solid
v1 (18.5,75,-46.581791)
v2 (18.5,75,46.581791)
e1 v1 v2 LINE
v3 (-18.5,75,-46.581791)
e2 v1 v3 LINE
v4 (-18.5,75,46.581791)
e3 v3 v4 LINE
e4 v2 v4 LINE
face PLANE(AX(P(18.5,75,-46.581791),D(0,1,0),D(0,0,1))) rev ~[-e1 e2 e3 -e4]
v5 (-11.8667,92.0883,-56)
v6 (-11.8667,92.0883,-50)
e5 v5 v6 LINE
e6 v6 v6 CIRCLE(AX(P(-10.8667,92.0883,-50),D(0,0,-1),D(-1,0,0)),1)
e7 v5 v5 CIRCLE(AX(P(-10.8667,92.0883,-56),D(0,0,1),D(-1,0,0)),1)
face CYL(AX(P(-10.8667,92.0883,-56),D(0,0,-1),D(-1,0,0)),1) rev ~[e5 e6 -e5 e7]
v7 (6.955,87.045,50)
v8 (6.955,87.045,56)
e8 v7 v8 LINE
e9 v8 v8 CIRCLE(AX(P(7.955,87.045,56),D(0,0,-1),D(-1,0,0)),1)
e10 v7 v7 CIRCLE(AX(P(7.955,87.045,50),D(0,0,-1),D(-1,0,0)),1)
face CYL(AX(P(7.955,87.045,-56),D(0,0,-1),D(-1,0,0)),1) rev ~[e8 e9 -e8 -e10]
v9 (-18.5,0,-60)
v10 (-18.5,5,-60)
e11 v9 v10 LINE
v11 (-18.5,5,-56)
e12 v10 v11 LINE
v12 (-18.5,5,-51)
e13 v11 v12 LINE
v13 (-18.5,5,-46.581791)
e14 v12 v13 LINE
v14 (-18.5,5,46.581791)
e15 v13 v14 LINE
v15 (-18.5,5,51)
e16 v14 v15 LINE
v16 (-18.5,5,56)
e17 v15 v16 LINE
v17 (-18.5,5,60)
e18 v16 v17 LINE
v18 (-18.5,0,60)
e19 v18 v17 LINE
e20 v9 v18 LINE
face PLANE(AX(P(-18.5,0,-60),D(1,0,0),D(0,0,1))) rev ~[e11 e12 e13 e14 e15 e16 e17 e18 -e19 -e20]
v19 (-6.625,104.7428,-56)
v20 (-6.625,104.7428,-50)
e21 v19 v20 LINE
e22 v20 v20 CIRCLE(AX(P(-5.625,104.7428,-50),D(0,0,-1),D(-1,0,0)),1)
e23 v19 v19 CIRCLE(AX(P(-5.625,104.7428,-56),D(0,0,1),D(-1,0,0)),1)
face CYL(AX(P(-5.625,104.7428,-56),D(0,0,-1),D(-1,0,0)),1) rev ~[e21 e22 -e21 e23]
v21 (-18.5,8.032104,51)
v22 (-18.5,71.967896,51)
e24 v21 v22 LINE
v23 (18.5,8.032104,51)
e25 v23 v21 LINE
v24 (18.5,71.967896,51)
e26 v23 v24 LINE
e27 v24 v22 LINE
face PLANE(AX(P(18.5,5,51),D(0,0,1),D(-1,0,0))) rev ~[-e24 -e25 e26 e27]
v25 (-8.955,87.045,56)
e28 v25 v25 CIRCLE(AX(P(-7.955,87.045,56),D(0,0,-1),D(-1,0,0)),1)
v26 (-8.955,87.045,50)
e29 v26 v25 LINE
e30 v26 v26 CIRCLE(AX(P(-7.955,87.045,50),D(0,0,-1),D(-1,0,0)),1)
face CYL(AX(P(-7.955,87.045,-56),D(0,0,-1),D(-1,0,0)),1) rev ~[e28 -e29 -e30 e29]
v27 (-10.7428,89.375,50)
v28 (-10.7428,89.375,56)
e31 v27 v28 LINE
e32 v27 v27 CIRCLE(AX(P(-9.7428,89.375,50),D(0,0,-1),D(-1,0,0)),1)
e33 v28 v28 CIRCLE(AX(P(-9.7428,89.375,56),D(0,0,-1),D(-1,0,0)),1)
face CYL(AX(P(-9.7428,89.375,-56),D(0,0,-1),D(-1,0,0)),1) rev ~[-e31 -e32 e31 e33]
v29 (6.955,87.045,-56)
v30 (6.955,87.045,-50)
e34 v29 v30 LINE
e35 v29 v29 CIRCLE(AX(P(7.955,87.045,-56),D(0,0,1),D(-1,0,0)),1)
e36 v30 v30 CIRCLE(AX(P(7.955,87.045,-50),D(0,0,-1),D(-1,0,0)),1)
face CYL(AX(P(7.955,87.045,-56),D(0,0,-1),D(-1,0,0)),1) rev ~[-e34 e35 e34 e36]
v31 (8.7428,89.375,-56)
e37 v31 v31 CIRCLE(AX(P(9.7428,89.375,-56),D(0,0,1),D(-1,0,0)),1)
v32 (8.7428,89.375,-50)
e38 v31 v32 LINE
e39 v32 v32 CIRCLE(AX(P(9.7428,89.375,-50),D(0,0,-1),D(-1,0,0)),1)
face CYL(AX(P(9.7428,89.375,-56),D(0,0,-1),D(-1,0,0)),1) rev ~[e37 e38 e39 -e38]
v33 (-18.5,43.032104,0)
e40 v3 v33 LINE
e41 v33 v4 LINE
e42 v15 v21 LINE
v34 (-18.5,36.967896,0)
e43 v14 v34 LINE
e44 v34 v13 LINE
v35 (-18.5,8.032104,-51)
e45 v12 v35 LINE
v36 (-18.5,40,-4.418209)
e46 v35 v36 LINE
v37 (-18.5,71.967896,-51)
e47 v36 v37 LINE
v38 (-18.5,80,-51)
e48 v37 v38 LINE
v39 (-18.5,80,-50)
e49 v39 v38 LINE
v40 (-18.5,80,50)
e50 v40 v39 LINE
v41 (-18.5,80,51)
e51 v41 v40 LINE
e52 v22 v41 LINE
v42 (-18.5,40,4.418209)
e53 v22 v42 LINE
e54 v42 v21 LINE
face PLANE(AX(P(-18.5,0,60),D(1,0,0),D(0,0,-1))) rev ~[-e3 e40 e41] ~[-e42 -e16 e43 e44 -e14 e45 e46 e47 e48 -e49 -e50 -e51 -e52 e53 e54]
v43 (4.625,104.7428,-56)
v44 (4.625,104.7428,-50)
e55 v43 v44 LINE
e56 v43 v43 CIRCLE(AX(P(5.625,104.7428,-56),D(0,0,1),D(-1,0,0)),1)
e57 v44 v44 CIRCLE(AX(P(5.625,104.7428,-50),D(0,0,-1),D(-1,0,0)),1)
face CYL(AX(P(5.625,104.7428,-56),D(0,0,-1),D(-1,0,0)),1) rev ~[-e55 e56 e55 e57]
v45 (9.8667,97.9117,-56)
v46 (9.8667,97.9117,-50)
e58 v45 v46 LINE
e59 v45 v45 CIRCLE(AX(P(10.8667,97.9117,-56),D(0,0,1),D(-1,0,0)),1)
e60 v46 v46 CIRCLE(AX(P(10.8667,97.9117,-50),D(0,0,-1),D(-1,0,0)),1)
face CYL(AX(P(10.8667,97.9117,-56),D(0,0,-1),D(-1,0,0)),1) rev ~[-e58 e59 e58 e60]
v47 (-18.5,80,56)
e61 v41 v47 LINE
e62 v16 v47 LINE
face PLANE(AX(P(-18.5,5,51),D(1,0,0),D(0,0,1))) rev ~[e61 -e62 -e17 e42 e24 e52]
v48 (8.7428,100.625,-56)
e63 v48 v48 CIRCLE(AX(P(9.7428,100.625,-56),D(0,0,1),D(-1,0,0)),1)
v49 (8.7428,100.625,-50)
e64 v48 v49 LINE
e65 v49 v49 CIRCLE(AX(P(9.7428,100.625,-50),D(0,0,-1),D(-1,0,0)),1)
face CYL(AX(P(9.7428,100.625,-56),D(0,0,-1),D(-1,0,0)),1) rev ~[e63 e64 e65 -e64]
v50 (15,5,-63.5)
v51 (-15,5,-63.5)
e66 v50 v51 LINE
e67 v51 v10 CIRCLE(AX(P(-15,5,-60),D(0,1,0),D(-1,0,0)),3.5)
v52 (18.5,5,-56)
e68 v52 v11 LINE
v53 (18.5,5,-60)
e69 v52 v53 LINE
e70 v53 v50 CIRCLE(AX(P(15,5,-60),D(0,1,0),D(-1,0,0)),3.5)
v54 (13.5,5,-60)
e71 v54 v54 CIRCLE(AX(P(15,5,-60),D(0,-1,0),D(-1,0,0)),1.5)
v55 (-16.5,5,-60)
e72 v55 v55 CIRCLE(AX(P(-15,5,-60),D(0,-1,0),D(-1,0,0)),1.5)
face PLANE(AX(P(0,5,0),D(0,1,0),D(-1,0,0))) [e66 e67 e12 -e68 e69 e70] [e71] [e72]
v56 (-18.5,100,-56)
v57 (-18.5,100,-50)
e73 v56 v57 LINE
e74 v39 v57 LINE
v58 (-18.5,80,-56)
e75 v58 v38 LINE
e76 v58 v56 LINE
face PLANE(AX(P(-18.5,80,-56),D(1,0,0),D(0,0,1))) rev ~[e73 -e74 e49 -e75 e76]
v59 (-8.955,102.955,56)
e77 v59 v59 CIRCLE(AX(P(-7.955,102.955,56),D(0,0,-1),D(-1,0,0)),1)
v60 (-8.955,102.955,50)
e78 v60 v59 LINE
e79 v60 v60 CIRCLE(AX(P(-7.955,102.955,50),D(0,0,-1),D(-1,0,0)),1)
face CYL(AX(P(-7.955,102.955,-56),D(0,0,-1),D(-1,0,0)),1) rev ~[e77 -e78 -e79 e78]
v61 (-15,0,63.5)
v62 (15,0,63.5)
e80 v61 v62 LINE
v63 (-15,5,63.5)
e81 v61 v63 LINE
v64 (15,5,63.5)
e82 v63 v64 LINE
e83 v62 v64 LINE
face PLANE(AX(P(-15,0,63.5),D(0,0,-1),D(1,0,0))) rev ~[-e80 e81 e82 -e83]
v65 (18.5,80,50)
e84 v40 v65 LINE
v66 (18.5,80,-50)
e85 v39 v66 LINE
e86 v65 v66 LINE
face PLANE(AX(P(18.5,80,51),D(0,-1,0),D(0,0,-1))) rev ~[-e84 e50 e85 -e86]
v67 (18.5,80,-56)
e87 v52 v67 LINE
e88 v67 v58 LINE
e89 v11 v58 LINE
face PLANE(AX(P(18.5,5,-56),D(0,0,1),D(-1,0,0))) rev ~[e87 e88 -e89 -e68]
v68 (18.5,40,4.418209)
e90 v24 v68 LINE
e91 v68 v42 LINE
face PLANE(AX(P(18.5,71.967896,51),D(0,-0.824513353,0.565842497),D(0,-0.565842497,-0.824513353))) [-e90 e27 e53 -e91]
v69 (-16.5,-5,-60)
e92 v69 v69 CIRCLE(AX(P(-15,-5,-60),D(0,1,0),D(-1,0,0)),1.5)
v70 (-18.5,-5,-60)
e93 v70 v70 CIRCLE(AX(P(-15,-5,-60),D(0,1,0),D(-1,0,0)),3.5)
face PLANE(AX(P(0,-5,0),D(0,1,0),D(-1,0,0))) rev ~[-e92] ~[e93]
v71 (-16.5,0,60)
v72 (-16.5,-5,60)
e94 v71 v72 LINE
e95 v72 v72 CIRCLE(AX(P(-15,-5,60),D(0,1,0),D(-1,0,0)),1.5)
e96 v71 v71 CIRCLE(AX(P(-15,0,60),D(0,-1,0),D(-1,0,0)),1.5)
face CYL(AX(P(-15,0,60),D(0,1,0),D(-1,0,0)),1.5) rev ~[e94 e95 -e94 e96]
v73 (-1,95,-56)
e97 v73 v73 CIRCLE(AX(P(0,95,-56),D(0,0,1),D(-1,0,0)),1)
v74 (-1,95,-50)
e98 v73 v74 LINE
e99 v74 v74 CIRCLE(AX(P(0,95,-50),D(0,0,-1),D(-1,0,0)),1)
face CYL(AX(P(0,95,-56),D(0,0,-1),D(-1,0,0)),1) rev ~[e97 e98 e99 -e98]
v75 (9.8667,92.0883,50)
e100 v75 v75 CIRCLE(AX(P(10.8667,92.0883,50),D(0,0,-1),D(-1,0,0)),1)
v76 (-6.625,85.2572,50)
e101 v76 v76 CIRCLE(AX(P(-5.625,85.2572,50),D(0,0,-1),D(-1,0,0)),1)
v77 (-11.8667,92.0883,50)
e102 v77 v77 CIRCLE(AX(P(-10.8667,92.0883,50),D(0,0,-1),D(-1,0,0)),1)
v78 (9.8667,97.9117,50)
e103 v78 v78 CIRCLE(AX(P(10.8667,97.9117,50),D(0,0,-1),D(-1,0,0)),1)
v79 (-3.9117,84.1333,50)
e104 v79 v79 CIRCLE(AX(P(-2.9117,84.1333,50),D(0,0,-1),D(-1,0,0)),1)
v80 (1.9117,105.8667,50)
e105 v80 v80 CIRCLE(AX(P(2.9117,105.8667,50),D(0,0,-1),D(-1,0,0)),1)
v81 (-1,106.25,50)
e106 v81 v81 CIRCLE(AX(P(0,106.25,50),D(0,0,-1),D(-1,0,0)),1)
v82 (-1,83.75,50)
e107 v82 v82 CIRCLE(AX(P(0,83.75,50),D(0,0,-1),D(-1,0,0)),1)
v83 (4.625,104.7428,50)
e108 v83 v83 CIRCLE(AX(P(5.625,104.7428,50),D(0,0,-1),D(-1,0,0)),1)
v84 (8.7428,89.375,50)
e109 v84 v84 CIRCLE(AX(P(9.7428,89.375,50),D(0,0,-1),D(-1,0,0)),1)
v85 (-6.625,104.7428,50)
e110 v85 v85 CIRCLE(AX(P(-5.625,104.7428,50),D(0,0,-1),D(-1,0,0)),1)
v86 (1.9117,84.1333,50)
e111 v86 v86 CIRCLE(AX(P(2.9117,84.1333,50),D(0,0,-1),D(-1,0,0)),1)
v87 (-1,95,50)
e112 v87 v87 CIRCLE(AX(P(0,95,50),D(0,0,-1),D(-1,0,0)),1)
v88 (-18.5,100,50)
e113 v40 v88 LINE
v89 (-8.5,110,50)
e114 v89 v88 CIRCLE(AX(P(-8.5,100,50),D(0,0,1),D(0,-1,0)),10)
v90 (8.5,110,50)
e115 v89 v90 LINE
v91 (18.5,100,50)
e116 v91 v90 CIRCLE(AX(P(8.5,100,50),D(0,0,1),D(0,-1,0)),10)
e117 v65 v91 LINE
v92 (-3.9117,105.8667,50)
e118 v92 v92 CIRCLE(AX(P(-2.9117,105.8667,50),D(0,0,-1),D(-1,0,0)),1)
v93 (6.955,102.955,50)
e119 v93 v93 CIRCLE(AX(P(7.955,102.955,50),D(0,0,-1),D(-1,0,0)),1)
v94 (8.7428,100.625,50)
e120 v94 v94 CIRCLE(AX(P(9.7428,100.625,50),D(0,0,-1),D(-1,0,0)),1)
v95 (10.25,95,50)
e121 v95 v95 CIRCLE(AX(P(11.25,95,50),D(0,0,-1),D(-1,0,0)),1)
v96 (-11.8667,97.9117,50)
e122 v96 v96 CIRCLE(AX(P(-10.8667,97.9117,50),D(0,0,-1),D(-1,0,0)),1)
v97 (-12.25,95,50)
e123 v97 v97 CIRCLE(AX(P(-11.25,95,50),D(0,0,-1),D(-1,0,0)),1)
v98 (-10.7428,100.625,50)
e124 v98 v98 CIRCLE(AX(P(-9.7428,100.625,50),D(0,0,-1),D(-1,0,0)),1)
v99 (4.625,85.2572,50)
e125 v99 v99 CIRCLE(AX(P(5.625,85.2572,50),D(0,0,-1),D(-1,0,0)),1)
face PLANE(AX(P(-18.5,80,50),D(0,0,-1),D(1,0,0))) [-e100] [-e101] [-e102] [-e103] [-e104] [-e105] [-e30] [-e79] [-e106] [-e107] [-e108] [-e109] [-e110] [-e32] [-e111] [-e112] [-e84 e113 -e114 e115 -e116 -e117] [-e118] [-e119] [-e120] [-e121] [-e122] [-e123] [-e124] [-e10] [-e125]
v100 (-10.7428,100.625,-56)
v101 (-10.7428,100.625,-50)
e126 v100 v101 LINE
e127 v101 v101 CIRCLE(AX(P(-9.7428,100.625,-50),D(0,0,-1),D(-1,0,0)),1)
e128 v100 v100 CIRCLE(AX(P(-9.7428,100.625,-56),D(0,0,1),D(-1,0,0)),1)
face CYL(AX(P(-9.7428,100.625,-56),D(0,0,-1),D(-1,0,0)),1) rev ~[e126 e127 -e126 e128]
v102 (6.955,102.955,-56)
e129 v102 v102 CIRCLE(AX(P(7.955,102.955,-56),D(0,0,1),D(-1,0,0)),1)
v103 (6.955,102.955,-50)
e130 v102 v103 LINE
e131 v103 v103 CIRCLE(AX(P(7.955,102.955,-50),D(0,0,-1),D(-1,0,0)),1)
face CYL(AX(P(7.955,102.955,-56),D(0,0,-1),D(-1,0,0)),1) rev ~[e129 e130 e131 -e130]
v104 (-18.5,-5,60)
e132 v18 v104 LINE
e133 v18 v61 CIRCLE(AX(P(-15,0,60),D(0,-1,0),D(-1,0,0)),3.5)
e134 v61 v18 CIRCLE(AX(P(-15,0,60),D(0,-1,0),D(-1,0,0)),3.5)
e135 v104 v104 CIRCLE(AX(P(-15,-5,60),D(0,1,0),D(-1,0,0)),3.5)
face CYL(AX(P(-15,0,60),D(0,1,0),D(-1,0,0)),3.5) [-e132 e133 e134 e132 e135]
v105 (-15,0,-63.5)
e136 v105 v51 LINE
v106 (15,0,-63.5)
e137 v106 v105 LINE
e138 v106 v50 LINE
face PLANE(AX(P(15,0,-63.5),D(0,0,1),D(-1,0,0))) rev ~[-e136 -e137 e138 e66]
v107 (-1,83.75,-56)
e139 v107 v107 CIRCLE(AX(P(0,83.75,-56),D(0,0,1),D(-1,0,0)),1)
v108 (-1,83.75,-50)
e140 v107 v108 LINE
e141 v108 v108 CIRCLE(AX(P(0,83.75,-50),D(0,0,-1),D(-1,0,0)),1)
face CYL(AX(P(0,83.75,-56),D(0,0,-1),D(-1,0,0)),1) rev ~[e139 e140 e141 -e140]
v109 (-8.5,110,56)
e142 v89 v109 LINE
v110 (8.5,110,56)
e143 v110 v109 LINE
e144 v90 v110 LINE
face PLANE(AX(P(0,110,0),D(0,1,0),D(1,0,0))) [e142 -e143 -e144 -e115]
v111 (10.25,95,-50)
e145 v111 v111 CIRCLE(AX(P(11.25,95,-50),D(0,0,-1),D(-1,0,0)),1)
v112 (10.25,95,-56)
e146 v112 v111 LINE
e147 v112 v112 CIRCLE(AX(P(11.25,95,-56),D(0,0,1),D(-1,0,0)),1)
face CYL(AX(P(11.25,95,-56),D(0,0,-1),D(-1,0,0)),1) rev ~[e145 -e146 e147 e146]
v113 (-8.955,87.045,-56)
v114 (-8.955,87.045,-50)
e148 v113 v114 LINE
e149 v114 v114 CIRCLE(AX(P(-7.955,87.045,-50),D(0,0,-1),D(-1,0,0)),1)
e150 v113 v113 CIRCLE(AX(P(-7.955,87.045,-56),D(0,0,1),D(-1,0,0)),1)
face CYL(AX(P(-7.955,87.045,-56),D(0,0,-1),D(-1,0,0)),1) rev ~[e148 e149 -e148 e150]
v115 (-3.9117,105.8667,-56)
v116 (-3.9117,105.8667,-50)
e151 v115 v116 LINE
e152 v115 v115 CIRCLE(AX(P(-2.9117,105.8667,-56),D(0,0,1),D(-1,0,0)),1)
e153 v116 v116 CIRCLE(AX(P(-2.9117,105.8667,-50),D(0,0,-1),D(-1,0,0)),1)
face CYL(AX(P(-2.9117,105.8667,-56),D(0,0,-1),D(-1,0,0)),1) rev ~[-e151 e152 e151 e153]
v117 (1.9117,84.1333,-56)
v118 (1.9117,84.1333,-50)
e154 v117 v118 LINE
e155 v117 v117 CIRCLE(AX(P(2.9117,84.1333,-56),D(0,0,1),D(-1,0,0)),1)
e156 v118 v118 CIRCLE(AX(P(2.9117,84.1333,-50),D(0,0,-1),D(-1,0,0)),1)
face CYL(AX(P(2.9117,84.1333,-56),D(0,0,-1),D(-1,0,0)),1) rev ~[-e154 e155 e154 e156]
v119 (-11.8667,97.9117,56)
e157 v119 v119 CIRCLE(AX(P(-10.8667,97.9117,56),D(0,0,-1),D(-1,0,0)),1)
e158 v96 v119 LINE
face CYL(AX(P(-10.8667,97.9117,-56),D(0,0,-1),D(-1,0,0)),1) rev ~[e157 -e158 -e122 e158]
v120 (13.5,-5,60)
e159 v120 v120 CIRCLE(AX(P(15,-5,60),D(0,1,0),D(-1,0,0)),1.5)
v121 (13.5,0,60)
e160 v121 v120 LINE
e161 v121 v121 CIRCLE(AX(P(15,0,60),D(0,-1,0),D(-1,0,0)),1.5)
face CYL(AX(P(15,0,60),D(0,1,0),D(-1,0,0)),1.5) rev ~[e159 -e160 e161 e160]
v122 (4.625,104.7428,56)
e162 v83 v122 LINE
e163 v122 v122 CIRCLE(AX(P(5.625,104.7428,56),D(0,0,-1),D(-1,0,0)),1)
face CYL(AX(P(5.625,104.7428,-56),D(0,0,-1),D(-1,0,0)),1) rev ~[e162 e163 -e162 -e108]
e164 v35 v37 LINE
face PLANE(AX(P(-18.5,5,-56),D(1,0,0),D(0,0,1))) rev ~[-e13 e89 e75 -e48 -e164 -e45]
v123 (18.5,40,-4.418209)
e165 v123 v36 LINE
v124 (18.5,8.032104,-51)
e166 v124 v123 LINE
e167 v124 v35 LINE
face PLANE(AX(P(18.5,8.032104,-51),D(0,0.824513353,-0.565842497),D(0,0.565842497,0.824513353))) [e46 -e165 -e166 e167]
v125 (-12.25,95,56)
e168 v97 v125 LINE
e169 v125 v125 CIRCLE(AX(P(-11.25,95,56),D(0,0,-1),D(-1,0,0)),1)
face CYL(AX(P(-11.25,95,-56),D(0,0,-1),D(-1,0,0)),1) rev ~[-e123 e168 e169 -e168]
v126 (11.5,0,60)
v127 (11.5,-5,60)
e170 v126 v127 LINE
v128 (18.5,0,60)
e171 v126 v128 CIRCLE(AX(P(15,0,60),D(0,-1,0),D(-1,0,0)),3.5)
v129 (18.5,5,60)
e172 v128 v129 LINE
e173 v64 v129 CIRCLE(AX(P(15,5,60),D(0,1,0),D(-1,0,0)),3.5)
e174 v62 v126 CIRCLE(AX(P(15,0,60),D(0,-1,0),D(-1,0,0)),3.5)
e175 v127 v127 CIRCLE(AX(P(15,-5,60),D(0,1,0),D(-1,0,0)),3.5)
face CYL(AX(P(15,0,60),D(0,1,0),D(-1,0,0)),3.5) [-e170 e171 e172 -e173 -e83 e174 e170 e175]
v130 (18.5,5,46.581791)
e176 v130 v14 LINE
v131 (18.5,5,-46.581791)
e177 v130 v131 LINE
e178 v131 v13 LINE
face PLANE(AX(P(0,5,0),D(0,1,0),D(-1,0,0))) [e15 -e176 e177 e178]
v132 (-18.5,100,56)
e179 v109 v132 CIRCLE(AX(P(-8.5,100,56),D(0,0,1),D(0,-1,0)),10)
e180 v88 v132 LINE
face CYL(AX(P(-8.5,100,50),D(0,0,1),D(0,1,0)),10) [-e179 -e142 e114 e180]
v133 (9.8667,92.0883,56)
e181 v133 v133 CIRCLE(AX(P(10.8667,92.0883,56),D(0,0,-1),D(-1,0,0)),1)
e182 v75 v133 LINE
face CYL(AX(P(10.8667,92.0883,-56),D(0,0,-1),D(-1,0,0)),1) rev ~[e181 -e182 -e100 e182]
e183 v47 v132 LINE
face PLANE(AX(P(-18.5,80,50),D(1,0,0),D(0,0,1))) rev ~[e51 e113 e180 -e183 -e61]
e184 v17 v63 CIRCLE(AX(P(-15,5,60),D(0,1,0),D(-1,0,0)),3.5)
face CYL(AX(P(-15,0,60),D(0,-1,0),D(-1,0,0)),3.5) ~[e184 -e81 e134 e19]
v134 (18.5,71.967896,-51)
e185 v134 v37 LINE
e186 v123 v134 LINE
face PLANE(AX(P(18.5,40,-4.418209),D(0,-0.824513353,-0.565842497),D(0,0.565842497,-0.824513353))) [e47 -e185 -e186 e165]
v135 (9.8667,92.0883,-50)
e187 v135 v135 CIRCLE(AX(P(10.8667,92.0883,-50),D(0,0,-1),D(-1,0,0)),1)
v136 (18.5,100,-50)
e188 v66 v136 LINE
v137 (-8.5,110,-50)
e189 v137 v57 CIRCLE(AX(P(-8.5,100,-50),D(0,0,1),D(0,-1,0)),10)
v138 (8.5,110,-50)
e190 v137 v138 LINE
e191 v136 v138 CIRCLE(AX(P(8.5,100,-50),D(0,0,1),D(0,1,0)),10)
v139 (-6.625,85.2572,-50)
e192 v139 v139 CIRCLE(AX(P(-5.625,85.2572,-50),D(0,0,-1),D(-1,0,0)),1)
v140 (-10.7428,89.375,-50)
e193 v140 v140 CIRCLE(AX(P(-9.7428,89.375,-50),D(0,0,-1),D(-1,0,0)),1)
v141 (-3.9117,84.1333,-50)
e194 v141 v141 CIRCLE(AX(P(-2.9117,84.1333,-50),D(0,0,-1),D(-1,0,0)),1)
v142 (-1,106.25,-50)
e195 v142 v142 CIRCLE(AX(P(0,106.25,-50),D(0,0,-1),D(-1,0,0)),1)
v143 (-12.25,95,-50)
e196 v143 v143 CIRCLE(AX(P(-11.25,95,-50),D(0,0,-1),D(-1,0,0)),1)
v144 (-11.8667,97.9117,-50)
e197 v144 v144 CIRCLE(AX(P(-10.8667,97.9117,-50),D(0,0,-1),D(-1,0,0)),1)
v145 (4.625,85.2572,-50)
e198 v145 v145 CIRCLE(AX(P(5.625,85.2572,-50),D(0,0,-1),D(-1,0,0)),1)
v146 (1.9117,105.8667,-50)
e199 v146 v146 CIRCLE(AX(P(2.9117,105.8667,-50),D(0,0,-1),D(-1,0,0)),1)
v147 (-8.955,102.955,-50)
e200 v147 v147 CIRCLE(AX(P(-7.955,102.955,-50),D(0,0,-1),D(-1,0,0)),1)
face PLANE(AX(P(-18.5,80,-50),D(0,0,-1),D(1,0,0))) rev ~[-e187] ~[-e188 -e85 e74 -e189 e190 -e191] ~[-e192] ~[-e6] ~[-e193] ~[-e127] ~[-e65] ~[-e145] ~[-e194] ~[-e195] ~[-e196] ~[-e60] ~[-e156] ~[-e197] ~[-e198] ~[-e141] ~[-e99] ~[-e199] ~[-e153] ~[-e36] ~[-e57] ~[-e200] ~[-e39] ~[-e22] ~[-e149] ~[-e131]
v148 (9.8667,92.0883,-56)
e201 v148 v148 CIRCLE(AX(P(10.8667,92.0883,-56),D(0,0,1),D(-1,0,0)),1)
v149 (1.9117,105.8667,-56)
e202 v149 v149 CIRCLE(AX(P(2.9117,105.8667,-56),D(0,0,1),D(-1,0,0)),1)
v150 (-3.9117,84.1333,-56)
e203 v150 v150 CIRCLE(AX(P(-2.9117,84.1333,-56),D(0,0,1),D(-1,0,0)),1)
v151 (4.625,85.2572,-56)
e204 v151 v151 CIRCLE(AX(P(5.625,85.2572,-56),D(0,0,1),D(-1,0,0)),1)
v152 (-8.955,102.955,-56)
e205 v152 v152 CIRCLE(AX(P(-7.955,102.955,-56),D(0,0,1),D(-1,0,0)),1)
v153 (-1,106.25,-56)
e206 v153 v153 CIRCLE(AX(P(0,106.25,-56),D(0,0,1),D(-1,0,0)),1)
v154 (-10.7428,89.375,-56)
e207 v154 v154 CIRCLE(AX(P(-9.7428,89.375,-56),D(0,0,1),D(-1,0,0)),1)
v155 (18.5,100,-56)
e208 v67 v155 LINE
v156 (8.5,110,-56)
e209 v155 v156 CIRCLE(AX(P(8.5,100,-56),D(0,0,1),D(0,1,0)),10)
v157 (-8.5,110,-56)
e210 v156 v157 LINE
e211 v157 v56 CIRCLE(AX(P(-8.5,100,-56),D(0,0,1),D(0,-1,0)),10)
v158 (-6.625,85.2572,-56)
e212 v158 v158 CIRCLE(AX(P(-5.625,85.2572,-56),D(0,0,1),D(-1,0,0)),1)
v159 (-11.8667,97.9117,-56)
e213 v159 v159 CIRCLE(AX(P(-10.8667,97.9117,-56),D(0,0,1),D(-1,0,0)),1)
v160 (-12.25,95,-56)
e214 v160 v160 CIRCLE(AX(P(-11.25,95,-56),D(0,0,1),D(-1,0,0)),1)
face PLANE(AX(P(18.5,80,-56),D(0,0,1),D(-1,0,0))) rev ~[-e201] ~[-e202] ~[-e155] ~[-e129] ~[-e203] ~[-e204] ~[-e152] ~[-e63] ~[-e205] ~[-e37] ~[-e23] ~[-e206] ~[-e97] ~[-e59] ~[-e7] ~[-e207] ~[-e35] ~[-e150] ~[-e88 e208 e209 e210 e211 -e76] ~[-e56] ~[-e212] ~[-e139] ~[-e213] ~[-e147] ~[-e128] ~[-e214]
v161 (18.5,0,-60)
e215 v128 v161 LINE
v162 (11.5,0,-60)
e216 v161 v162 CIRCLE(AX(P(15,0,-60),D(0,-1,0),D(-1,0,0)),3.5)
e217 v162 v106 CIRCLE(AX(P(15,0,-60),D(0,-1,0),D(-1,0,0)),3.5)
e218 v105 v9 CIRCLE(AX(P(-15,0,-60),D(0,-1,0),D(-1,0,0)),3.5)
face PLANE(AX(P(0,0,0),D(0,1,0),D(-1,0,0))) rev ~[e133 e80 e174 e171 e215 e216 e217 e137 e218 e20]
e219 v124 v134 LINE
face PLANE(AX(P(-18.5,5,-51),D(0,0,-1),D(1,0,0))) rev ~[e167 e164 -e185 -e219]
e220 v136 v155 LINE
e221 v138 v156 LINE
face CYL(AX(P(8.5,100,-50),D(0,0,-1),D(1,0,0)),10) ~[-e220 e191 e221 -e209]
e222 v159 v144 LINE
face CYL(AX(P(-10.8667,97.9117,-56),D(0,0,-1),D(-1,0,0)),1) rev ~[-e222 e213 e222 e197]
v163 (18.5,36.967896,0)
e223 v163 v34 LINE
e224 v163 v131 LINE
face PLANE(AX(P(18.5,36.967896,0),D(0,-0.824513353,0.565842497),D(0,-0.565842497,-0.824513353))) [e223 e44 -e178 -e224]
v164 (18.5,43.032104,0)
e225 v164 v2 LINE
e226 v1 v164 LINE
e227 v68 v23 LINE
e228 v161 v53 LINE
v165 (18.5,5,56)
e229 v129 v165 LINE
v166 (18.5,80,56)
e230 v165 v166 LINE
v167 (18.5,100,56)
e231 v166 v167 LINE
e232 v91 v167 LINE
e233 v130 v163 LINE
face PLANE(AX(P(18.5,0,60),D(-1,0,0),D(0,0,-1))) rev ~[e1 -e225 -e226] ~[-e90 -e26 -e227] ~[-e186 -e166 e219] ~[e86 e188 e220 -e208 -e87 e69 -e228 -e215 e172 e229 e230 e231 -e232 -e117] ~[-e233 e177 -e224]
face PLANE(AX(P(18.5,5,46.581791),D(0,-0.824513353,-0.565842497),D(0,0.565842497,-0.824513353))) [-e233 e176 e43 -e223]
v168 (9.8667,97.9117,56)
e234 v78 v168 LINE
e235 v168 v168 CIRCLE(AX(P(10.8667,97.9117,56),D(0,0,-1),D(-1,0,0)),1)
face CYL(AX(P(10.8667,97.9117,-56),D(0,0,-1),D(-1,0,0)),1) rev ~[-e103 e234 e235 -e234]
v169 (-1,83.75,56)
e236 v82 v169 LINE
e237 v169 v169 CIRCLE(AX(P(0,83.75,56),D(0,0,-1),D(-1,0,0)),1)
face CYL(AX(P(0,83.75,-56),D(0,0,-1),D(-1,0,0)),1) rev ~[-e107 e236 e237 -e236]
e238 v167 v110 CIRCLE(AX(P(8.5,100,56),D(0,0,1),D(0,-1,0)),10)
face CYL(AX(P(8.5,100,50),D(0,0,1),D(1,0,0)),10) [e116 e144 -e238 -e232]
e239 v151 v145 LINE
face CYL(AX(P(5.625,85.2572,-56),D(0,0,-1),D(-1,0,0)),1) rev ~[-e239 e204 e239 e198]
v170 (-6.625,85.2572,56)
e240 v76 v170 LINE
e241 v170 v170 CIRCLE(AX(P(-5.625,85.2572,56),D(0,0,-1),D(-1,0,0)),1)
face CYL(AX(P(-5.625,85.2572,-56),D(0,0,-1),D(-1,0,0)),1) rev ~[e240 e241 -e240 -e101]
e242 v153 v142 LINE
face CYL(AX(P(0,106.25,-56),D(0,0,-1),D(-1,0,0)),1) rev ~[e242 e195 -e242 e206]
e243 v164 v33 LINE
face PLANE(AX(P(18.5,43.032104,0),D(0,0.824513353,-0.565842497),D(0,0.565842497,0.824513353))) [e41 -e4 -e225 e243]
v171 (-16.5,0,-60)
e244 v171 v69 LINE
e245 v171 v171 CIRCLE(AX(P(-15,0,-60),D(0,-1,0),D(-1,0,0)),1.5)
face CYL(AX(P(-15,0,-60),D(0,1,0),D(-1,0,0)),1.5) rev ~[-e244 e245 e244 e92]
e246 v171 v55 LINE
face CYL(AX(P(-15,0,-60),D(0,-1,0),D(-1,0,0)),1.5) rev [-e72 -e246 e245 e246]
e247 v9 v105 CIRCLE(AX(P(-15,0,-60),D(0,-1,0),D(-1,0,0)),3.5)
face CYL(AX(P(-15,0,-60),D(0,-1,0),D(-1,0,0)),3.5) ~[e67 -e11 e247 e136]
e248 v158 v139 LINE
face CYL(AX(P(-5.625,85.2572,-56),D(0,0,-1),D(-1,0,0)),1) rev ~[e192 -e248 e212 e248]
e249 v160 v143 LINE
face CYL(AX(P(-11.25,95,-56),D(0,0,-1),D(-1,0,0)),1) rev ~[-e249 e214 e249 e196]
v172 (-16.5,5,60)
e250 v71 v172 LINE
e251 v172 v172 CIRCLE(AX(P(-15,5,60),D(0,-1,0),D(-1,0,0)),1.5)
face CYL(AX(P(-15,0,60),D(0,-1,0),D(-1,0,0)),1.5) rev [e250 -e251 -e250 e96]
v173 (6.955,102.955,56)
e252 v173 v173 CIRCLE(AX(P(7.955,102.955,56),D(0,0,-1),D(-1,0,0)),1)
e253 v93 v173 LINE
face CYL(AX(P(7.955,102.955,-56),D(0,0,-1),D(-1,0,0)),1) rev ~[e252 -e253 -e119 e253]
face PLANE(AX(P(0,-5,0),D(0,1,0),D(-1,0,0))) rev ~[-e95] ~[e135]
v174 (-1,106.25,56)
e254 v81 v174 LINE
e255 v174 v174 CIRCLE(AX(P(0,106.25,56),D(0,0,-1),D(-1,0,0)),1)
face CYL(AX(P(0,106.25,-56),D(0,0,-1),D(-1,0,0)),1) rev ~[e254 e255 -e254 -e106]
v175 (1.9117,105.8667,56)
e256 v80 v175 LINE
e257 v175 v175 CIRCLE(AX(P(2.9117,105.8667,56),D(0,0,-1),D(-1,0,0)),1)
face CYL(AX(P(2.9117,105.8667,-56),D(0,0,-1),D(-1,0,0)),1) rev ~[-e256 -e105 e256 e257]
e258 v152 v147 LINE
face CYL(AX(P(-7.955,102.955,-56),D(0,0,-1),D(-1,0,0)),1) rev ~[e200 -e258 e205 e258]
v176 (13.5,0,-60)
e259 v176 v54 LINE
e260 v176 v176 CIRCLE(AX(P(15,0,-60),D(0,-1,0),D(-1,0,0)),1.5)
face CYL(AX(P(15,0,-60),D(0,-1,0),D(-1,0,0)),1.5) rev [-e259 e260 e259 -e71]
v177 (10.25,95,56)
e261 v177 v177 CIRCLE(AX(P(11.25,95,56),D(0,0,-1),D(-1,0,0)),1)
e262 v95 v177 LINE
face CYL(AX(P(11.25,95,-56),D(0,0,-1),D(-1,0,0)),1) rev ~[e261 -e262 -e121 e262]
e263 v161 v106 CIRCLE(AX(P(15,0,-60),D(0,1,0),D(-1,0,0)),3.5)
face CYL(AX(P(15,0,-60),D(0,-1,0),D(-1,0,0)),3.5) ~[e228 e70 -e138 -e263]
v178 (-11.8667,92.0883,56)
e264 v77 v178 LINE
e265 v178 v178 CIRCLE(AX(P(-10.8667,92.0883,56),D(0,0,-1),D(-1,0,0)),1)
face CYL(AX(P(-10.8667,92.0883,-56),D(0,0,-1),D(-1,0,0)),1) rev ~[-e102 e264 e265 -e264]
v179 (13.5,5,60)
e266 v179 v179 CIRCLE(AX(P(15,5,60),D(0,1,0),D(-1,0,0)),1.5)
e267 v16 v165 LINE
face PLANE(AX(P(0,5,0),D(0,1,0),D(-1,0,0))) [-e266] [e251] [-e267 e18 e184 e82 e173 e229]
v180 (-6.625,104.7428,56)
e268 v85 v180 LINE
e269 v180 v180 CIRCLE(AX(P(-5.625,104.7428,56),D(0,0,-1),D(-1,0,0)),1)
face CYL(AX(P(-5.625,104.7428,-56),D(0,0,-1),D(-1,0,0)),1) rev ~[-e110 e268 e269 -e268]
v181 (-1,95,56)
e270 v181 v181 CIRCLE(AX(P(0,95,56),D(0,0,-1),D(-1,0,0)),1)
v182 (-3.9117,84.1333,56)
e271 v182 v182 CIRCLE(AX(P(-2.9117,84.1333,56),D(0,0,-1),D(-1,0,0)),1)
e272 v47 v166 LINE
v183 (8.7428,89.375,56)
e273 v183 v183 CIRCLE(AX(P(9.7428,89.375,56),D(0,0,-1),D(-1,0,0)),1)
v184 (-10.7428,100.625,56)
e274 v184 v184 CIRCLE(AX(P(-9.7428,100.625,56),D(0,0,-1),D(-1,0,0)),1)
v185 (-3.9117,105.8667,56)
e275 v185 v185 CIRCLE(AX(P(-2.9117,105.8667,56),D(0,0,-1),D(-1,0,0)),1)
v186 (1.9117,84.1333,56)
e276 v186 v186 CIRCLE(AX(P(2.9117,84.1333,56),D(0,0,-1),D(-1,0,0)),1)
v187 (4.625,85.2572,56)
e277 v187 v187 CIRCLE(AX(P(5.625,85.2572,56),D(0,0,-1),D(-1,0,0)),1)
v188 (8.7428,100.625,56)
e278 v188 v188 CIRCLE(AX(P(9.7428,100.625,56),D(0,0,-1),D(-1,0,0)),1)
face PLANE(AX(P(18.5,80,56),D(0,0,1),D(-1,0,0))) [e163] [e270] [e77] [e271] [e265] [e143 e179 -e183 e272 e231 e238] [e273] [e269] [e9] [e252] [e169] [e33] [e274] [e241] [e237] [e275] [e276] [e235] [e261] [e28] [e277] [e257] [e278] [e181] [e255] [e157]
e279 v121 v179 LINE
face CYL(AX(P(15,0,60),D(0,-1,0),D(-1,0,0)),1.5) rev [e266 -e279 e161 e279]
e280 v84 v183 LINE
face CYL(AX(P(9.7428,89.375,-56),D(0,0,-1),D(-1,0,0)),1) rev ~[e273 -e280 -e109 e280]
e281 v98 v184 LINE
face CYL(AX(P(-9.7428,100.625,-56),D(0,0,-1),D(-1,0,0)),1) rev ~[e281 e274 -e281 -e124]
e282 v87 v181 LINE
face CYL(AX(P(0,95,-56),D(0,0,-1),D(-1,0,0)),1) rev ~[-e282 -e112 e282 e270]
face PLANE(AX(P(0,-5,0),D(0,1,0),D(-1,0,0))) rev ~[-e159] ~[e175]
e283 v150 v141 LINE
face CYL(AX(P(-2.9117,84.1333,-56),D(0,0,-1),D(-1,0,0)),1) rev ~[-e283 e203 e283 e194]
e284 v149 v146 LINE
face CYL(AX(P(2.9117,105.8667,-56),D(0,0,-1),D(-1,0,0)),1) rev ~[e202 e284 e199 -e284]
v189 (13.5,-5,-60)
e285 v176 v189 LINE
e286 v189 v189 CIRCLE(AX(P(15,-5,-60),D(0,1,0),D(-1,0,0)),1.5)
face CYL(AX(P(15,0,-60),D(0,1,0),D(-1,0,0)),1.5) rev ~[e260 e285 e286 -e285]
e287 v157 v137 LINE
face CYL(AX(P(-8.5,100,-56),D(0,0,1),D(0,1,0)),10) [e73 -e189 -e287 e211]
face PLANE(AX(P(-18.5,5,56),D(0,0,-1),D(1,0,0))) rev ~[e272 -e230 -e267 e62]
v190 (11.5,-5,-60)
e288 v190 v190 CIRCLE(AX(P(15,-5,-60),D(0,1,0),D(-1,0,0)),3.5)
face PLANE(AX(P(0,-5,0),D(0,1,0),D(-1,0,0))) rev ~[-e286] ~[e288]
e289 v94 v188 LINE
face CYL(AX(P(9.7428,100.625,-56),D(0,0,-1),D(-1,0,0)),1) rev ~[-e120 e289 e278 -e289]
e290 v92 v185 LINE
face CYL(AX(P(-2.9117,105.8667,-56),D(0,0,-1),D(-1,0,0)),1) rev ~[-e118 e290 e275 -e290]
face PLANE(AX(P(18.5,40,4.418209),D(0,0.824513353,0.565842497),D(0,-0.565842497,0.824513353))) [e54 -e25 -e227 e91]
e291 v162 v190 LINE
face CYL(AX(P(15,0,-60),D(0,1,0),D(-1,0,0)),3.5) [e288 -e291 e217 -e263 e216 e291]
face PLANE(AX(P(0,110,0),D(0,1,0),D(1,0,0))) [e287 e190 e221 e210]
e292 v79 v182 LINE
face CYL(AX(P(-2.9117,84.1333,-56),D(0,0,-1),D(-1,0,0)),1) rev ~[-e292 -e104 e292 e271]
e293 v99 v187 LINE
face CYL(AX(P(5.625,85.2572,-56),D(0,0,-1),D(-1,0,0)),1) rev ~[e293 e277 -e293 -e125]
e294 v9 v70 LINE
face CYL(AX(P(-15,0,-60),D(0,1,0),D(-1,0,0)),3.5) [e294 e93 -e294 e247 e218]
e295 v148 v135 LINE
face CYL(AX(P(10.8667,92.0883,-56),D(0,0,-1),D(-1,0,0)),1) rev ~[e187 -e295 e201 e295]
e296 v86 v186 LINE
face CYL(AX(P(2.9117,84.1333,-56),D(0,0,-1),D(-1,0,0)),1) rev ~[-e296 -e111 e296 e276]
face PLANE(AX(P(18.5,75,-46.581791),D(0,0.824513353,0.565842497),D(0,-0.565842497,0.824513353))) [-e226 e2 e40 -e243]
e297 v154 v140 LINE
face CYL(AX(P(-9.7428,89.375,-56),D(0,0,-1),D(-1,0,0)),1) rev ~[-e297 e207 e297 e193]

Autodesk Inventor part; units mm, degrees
ref_plane "YZ Plane" through (0, 0, 0) normal (1, 0, 0) x (0, 1, 0)
ref_plane "XZ Plane" through (0, 0, 0) normal (0, 1, 0) x (-1, 0, 0)
ref_plane "XY Plane" through (0, 0, 0) normal (0, 0, 1) x (1, 0, 0)
sketch "Sketch1" plane through (0, 0, 0) normal (0, 1, 0) x (-1, 0, 0)
  line L0 (15, 60) -> (-15, 60)
  line L1 (-15, 60) -> (-15, -60)
  line L2 (-15, -60) -> (15, -60)
  line L3 (15, -60) -> (15, 60)
  line L4 (15, 60) -> (-15, -60) construction
  line L5 (-15, 60) -> (15, -60) construction
  circle A0 centre (15, 60) radius 3.5
  circle A1 centre (15, -60) radius 3.5
  circle A2 centre (-15, 60) radius 3.5
  circle A3 centre (-15, -60) radius 3.5
  circle A4 centre (15, 60) radius 1.5
  circle A5 centre (15, -60) radius 1.5
  circle A6 centre (-15, -60) radius 1.5
  circle A7 centre (-15, 60) radius 1.5
  line L6 (15, 63.5) -> (-15, 63.5)
  line L7 (-15, 63.5) -> (-15, -63.5)
  line L8 (-15, -63.5) -> (15, -63.5)
  line L9 (15, -63.5) -> (15, 63.5)
  line L10 (15, 63.5) -> (-15, -63.5) construction
  line L11 (-15, 63.5) -> (15, -63.5) construction
  line L12 (-18.5, -60) -> (18.5, -60)
  line L13 (18.5, -60) -> (18.5, 60)
  line L14 (18.5, 60) -> (-18.5, 60)
  line L15 (-18.5, 60) -> (-18.5, -60)
  line L16 (-18.5, -60) -> (18.5, 60) construction
  line L17 (18.5, -60) -> (-18.5, 60) construction
  point P0 (0, 0)
  point P1 (15, 56.5)
  point P2 (11.5, 60)
  point P3 (-11.5, 60)
  point P4 (-15, 56.5)
  point P5 (-15, -56.5)
  point P6 (-11.5, -60)
  point P7 (11.5, -60)
  point P8 (15, -56.5)
  point P9 (18.5, -60)
  dimension "d2" = 7
  dimension "d5" = 7
  dimension "d0" = 120
  dimension "d1" = 30
  dimension "d3" = 7
  dimension "d4" = 7
  dimension "d6" = 3
  dimension "d7" = 3
  dimension "d8" = 3
  dimension "d9" = 3
extrude "Extrusion1" add sketch "Sketch1" against normal blind 5 contours A2 L1 A7 L0 | L0 A7 L7 A2 | A0 L9 A4 L0 | L0 A4 L3 A0 | L7 A7 L14 A2 | A2 L14 A7 L1 | A0 L14 A4 L9 | L3 A4 L14 A0 | A3 L2 A6 L1 | L1 A6 L12 A3 | A1 L12 A5 L3 | L3 A5 L2 A1 | L12 A6 L7 A3 | A3 L7 A6 L2 | A1 L9 A5 L12 | L2 A5 L9 A1
extrude "Extrusion2" add sketch "Sketch1" along normal blind 5 contours A2 L1 A7 L0 | A2 L6 A0 L0 | L0 A7 L7 A2 | L0 A0 L3 A1 L2 A3 L1 A2 | A0 L9 A4 L0 | L0 A4 L3 A0 | L7 A7 L14 A2 | A2 L14 A7 L1 | L1 A3 L15 A2 | A0 L14 A4 L9 | A0 L13 A1 L3 | L3 A4 L14 A0 | A3 L2 A6 L1 | L1 A6 L12 A3 | A1 L12 A5 L3 | L3 A5 L2 A1 | L12 A6 L7 A3 | A3 L7 A6 L2 | L2 A1 L8 A3 | A1 L9 A5 L12 | L2 A5 L9 A1
sketch "Sketch8" plane through (0, 5, 0) normal (0, 1, 0) x (1, 0, 0)
  line L0 (-18.5, 60) -> (-18.5, -60) projected
  line L1 (18.5, -60) -> (18.5, 60) projected
  line L2 (-18.5, -56) -> (18.5, -56)
  line L3 (18.5, -56) -> (18.5, -51)
  line L4 (18.5, -51) -> (-18.5, -51)
  line L5 (-18.5, -51) -> (-18.5, -56)
  line L6 (-18.5, 51) -> (18.5, 51)
  line L7 (18.5, 51) -> (18.5, 56)
  line L8 (18.5, 56) -> (-18.5, 56)
  line L9 (-18.5, 56) -> (-18.5, 51)
  line L10 (-15, -63.5) -> (15, -63.5) projected
  line L11 (15, 63.5) -> (-15, 63.5) projected
  point P0 (0, 0)
  point P1 (18.5, -56)
  dimension "d37" = 5
  dimension "d38" = 7.5
  dimension "d39" = 5
  dimension "d40" = 7.5
extrude "Extrusion8" add sketch "Sketch8" along normal blind 75 contours L8 L1 L6 L0 | L4 L1 L2 L0
sketch "Sketch9" plane through (18.5, 0, 60) normal (1, 0, 0) x (0, 0, -1)
  line L0 (9, 5) -> (9, 80) projected
  line L1 (111, 5) -> (111, 80) projected
  line L2 (9, 80) -> (111, 80)
  line L3 (111, 80) -> (111, 75)
  line L4 (111, 75) -> (9, 75)
  line L5 (9, 75) -> (9, 80)
  line L6 (9, 75) -> (111, 5) construction
  line L7 (7.5854, 72.9387) -> (109.5854, 2.9387)
  line L8 (112.4146, 7.0613) -> (10.4146, 77.0613)
  arc A0 (10.4146, 77.0613) -> (7.5854, 72.9387) centre (9, 75) ccw
  arc A1 (109.5854, 2.9387) -> (112.4146, 7.0613) centre (111, 5) ccw
  line L9 (9, 5) -> (111, 5) projected
  line L10 (9, 5) -> (111, 75) construction
  line L11 (10.4146, 2.9387) -> (112.4146, 72.9387)
  line L12 (109.5854, 77.0613) -> (7.5854, 7.0613)
  arc A2 (7.5854, 7.0613) -> (10.4146, 2.9387) centre (9, 5) ccw
  arc A3 (112.4146, 72.9387) -> (109.5854, 77.0613) centre (111, 75) ccw
  point P0 (60, 0)
  point P1 (60, 40)
  point P2 (60, 40)
  point P3 (9, 77.5)
  point P4 (13.4182, 75)
  point P5 (106.5818, 75)
  point P6 (111, 77.5)
  point P7 (60, 43.0321)
  point P8 (9, 75)
  point P9 (9, 71.9679)
  point P10 (55.5818, 40)
  point P11 (9, 8.0321)
  point P12 (13.4182, 5)
  point P13 (60, 36.9679)
  point P14 (106.5818, 5)
  point P15 (111, 8.0321)
  point P16 (64.4182, 40)
  point P17 (111, 71.9679)
  dimension "d43" = 5
  dimension "d44" = 5
  dimension "d45" = 5
extrude "Extrusion9" add sketch "Sketch9" against normal up to surface (37 mm away) contours L0 L12 L7 L11 L9 | L0 L4 L8 L12 L7 | L12 L8 L11 L7 | L7 L11 L8 L1 L9 | L0 A0 L8 L4 | L12 L4 L1 L11 L8 | L0 L2 L1 A3 L12 L4 L8 A0 | L12 A3 L1 L4
sketch "Sketch10" plane through (0, 80, 0) normal (0, 1, 0) x (1, 0, 0)
  line L0 (18.5, -56) -> (-18.5, -56) projected
  line L1 (-18.5, 60) -> (-18.5, -60) projected
  line L2 (18.5, -56) -> (-18.5, -56)
  line L3 (-18.5, -56) -> (-18.5, -50)
  line L4 (-18.5, -50) -> (18.5, -50)
  line L5 (18.5, -50) -> (18.5, -56)
  line L6 (18.5, 56) -> (-18.5, 56) projected
  line L7 (18.5, 56) -> (-18.5, 56)
  line L8 (-18.5, 56) -> (-18.5, 50)
  line L9 (-18.5, 50) -> (18.5, 50)
  line L10 (18.5, 50) -> (18.5, 56)
  point P0 (0, 0)
  dimension "d48" = 6
  dimension "d49" = 6
extrude "Extrusion10" add sketch "Sketch10" along normal blind 30
sketch "Sketch11" plane through (18.5, 5, -56) normal (0, 0, -1) x (-1, 0, 0)
  line L0 (37, 105) -> (0, 105) projected
  line L1 (37, 75) -> (37, 105) projected
  line L2 (0, 105) -> (37, 105)
  line L3 (37, 105) -> (37, 75)
  line L4 (37, 75) -> (0, 75)
  line L5 (0, 75) -> (0, 105)
  line L6 (0, 75) -> (0, 105) projected
  line L7 (0, 75) -> (37, 105)
  circle A0 centre (18.5, 90) radius 11.25
  circle A1 centre (18.5, 101.25) radius 1
  circle A2 centre (15.5883, 100.8667) radius 1
  circle A3 centre (12.875, 99.7428) radius 1
  circle A4 centre (10.545, 97.955) radius 1
  circle A5 centre (8.7572, 95.625) radius 1
  circle A6 centre (7.6333, 92.9117) radius 1
  circle A7 centre (7.25, 90) radius 1
  circle A8 centre (7.6333, 87.0883) radius 1
  circle A9 centre (8.7572, 84.375) radius 1
  circle A10 centre (10.545, 82.045) radius 1
  circle A11 centre (12.875, 80.2572) radius 1
  circle A12 centre (15.5883, 79.1333) radius 1
  circle A13 centre (18.5, 78.75) radius 1
  circle A14 centre (21.4117, 79.1333) radius 1
  circle A15 centre (24.125, 80.2572) radius 1
  circle A16 centre (26.455, 82.045) radius 1
  circle A17 centre (28.2428, 84.375) radius 1
  circle A18 centre (29.3667, 87.0883) radius 1
  circle A19 centre (29.75, 90) radius 1
  circle A20 centre (29.3667, 92.9117) radius 1
  circle A21 centre (28.2428, 95.625) radius 1
  circle A22 centre (26.455, 97.955) radius 1
  circle A23 centre (24.125, 99.7428) radius 1
  circle A24 centre (21.4117, 100.8667) radius 1
  circle A25 centre (18.5, 90) radius 1
  line L8 (18.5, 90) -> (18.5, 105)
  line L9 (0, 105) -> (37, 105) projected
  point P0 (18.5, -5)
  dimension "d52" = 22.5
  dimension "d53" = 2
  dimension "d56" = 360
  dimension "d61" = 2
extrude "Extrusion11" cut sketch "Sketch11" against normal blind 134.75 contours L8 A0 A1 | A1 A0 L8 | A25 L7 | L7 L8 A25 | A21 A0 | A0 A21 | A22 A0 | A0 A22 | A0 L8 A1 | A0 A1 L8 | L7 A25 L8 | A2 A0 | A0 A2 | A9 A0 | A0 A9 | A10 A0 | A0 A10 | A20 A0 | A0 A20 | A23 A0 | A0 A23 | A24 A0 | A0 A24 | A3 A0 | A0 A3 | A8 A0 | A0 A8 | A11 A0 | A0 A11 | A19 A0 | A0 A19 | A4 A0 | A0 A4 | A7 A0 | A0 A7 | A12 A0 | A0 A12 | A18 A0 | A0 A18 | A5 A0 | A0 A5 | A6 A0 | A0 A6 | A13 A0 | A0 A13 | A17 A0 | A0 A17 | A14 A0 | A0 A14 | A16 A0 | A0 A16 | A15 A0 | A0 A15
fillet "Fillet1" radius 10 4 edges at (-18.5, 110, 53) (18.5, 110, 53) (-18.5, 110, -53) (18.5, 110, -53)
sketch "Sketch12" plane through (-18.5, 5, 56) normal (0, 0, 1) x (1, 0, 0)
  point P0 (18.5, -5)
properties part number "StereoVisionHolder"
